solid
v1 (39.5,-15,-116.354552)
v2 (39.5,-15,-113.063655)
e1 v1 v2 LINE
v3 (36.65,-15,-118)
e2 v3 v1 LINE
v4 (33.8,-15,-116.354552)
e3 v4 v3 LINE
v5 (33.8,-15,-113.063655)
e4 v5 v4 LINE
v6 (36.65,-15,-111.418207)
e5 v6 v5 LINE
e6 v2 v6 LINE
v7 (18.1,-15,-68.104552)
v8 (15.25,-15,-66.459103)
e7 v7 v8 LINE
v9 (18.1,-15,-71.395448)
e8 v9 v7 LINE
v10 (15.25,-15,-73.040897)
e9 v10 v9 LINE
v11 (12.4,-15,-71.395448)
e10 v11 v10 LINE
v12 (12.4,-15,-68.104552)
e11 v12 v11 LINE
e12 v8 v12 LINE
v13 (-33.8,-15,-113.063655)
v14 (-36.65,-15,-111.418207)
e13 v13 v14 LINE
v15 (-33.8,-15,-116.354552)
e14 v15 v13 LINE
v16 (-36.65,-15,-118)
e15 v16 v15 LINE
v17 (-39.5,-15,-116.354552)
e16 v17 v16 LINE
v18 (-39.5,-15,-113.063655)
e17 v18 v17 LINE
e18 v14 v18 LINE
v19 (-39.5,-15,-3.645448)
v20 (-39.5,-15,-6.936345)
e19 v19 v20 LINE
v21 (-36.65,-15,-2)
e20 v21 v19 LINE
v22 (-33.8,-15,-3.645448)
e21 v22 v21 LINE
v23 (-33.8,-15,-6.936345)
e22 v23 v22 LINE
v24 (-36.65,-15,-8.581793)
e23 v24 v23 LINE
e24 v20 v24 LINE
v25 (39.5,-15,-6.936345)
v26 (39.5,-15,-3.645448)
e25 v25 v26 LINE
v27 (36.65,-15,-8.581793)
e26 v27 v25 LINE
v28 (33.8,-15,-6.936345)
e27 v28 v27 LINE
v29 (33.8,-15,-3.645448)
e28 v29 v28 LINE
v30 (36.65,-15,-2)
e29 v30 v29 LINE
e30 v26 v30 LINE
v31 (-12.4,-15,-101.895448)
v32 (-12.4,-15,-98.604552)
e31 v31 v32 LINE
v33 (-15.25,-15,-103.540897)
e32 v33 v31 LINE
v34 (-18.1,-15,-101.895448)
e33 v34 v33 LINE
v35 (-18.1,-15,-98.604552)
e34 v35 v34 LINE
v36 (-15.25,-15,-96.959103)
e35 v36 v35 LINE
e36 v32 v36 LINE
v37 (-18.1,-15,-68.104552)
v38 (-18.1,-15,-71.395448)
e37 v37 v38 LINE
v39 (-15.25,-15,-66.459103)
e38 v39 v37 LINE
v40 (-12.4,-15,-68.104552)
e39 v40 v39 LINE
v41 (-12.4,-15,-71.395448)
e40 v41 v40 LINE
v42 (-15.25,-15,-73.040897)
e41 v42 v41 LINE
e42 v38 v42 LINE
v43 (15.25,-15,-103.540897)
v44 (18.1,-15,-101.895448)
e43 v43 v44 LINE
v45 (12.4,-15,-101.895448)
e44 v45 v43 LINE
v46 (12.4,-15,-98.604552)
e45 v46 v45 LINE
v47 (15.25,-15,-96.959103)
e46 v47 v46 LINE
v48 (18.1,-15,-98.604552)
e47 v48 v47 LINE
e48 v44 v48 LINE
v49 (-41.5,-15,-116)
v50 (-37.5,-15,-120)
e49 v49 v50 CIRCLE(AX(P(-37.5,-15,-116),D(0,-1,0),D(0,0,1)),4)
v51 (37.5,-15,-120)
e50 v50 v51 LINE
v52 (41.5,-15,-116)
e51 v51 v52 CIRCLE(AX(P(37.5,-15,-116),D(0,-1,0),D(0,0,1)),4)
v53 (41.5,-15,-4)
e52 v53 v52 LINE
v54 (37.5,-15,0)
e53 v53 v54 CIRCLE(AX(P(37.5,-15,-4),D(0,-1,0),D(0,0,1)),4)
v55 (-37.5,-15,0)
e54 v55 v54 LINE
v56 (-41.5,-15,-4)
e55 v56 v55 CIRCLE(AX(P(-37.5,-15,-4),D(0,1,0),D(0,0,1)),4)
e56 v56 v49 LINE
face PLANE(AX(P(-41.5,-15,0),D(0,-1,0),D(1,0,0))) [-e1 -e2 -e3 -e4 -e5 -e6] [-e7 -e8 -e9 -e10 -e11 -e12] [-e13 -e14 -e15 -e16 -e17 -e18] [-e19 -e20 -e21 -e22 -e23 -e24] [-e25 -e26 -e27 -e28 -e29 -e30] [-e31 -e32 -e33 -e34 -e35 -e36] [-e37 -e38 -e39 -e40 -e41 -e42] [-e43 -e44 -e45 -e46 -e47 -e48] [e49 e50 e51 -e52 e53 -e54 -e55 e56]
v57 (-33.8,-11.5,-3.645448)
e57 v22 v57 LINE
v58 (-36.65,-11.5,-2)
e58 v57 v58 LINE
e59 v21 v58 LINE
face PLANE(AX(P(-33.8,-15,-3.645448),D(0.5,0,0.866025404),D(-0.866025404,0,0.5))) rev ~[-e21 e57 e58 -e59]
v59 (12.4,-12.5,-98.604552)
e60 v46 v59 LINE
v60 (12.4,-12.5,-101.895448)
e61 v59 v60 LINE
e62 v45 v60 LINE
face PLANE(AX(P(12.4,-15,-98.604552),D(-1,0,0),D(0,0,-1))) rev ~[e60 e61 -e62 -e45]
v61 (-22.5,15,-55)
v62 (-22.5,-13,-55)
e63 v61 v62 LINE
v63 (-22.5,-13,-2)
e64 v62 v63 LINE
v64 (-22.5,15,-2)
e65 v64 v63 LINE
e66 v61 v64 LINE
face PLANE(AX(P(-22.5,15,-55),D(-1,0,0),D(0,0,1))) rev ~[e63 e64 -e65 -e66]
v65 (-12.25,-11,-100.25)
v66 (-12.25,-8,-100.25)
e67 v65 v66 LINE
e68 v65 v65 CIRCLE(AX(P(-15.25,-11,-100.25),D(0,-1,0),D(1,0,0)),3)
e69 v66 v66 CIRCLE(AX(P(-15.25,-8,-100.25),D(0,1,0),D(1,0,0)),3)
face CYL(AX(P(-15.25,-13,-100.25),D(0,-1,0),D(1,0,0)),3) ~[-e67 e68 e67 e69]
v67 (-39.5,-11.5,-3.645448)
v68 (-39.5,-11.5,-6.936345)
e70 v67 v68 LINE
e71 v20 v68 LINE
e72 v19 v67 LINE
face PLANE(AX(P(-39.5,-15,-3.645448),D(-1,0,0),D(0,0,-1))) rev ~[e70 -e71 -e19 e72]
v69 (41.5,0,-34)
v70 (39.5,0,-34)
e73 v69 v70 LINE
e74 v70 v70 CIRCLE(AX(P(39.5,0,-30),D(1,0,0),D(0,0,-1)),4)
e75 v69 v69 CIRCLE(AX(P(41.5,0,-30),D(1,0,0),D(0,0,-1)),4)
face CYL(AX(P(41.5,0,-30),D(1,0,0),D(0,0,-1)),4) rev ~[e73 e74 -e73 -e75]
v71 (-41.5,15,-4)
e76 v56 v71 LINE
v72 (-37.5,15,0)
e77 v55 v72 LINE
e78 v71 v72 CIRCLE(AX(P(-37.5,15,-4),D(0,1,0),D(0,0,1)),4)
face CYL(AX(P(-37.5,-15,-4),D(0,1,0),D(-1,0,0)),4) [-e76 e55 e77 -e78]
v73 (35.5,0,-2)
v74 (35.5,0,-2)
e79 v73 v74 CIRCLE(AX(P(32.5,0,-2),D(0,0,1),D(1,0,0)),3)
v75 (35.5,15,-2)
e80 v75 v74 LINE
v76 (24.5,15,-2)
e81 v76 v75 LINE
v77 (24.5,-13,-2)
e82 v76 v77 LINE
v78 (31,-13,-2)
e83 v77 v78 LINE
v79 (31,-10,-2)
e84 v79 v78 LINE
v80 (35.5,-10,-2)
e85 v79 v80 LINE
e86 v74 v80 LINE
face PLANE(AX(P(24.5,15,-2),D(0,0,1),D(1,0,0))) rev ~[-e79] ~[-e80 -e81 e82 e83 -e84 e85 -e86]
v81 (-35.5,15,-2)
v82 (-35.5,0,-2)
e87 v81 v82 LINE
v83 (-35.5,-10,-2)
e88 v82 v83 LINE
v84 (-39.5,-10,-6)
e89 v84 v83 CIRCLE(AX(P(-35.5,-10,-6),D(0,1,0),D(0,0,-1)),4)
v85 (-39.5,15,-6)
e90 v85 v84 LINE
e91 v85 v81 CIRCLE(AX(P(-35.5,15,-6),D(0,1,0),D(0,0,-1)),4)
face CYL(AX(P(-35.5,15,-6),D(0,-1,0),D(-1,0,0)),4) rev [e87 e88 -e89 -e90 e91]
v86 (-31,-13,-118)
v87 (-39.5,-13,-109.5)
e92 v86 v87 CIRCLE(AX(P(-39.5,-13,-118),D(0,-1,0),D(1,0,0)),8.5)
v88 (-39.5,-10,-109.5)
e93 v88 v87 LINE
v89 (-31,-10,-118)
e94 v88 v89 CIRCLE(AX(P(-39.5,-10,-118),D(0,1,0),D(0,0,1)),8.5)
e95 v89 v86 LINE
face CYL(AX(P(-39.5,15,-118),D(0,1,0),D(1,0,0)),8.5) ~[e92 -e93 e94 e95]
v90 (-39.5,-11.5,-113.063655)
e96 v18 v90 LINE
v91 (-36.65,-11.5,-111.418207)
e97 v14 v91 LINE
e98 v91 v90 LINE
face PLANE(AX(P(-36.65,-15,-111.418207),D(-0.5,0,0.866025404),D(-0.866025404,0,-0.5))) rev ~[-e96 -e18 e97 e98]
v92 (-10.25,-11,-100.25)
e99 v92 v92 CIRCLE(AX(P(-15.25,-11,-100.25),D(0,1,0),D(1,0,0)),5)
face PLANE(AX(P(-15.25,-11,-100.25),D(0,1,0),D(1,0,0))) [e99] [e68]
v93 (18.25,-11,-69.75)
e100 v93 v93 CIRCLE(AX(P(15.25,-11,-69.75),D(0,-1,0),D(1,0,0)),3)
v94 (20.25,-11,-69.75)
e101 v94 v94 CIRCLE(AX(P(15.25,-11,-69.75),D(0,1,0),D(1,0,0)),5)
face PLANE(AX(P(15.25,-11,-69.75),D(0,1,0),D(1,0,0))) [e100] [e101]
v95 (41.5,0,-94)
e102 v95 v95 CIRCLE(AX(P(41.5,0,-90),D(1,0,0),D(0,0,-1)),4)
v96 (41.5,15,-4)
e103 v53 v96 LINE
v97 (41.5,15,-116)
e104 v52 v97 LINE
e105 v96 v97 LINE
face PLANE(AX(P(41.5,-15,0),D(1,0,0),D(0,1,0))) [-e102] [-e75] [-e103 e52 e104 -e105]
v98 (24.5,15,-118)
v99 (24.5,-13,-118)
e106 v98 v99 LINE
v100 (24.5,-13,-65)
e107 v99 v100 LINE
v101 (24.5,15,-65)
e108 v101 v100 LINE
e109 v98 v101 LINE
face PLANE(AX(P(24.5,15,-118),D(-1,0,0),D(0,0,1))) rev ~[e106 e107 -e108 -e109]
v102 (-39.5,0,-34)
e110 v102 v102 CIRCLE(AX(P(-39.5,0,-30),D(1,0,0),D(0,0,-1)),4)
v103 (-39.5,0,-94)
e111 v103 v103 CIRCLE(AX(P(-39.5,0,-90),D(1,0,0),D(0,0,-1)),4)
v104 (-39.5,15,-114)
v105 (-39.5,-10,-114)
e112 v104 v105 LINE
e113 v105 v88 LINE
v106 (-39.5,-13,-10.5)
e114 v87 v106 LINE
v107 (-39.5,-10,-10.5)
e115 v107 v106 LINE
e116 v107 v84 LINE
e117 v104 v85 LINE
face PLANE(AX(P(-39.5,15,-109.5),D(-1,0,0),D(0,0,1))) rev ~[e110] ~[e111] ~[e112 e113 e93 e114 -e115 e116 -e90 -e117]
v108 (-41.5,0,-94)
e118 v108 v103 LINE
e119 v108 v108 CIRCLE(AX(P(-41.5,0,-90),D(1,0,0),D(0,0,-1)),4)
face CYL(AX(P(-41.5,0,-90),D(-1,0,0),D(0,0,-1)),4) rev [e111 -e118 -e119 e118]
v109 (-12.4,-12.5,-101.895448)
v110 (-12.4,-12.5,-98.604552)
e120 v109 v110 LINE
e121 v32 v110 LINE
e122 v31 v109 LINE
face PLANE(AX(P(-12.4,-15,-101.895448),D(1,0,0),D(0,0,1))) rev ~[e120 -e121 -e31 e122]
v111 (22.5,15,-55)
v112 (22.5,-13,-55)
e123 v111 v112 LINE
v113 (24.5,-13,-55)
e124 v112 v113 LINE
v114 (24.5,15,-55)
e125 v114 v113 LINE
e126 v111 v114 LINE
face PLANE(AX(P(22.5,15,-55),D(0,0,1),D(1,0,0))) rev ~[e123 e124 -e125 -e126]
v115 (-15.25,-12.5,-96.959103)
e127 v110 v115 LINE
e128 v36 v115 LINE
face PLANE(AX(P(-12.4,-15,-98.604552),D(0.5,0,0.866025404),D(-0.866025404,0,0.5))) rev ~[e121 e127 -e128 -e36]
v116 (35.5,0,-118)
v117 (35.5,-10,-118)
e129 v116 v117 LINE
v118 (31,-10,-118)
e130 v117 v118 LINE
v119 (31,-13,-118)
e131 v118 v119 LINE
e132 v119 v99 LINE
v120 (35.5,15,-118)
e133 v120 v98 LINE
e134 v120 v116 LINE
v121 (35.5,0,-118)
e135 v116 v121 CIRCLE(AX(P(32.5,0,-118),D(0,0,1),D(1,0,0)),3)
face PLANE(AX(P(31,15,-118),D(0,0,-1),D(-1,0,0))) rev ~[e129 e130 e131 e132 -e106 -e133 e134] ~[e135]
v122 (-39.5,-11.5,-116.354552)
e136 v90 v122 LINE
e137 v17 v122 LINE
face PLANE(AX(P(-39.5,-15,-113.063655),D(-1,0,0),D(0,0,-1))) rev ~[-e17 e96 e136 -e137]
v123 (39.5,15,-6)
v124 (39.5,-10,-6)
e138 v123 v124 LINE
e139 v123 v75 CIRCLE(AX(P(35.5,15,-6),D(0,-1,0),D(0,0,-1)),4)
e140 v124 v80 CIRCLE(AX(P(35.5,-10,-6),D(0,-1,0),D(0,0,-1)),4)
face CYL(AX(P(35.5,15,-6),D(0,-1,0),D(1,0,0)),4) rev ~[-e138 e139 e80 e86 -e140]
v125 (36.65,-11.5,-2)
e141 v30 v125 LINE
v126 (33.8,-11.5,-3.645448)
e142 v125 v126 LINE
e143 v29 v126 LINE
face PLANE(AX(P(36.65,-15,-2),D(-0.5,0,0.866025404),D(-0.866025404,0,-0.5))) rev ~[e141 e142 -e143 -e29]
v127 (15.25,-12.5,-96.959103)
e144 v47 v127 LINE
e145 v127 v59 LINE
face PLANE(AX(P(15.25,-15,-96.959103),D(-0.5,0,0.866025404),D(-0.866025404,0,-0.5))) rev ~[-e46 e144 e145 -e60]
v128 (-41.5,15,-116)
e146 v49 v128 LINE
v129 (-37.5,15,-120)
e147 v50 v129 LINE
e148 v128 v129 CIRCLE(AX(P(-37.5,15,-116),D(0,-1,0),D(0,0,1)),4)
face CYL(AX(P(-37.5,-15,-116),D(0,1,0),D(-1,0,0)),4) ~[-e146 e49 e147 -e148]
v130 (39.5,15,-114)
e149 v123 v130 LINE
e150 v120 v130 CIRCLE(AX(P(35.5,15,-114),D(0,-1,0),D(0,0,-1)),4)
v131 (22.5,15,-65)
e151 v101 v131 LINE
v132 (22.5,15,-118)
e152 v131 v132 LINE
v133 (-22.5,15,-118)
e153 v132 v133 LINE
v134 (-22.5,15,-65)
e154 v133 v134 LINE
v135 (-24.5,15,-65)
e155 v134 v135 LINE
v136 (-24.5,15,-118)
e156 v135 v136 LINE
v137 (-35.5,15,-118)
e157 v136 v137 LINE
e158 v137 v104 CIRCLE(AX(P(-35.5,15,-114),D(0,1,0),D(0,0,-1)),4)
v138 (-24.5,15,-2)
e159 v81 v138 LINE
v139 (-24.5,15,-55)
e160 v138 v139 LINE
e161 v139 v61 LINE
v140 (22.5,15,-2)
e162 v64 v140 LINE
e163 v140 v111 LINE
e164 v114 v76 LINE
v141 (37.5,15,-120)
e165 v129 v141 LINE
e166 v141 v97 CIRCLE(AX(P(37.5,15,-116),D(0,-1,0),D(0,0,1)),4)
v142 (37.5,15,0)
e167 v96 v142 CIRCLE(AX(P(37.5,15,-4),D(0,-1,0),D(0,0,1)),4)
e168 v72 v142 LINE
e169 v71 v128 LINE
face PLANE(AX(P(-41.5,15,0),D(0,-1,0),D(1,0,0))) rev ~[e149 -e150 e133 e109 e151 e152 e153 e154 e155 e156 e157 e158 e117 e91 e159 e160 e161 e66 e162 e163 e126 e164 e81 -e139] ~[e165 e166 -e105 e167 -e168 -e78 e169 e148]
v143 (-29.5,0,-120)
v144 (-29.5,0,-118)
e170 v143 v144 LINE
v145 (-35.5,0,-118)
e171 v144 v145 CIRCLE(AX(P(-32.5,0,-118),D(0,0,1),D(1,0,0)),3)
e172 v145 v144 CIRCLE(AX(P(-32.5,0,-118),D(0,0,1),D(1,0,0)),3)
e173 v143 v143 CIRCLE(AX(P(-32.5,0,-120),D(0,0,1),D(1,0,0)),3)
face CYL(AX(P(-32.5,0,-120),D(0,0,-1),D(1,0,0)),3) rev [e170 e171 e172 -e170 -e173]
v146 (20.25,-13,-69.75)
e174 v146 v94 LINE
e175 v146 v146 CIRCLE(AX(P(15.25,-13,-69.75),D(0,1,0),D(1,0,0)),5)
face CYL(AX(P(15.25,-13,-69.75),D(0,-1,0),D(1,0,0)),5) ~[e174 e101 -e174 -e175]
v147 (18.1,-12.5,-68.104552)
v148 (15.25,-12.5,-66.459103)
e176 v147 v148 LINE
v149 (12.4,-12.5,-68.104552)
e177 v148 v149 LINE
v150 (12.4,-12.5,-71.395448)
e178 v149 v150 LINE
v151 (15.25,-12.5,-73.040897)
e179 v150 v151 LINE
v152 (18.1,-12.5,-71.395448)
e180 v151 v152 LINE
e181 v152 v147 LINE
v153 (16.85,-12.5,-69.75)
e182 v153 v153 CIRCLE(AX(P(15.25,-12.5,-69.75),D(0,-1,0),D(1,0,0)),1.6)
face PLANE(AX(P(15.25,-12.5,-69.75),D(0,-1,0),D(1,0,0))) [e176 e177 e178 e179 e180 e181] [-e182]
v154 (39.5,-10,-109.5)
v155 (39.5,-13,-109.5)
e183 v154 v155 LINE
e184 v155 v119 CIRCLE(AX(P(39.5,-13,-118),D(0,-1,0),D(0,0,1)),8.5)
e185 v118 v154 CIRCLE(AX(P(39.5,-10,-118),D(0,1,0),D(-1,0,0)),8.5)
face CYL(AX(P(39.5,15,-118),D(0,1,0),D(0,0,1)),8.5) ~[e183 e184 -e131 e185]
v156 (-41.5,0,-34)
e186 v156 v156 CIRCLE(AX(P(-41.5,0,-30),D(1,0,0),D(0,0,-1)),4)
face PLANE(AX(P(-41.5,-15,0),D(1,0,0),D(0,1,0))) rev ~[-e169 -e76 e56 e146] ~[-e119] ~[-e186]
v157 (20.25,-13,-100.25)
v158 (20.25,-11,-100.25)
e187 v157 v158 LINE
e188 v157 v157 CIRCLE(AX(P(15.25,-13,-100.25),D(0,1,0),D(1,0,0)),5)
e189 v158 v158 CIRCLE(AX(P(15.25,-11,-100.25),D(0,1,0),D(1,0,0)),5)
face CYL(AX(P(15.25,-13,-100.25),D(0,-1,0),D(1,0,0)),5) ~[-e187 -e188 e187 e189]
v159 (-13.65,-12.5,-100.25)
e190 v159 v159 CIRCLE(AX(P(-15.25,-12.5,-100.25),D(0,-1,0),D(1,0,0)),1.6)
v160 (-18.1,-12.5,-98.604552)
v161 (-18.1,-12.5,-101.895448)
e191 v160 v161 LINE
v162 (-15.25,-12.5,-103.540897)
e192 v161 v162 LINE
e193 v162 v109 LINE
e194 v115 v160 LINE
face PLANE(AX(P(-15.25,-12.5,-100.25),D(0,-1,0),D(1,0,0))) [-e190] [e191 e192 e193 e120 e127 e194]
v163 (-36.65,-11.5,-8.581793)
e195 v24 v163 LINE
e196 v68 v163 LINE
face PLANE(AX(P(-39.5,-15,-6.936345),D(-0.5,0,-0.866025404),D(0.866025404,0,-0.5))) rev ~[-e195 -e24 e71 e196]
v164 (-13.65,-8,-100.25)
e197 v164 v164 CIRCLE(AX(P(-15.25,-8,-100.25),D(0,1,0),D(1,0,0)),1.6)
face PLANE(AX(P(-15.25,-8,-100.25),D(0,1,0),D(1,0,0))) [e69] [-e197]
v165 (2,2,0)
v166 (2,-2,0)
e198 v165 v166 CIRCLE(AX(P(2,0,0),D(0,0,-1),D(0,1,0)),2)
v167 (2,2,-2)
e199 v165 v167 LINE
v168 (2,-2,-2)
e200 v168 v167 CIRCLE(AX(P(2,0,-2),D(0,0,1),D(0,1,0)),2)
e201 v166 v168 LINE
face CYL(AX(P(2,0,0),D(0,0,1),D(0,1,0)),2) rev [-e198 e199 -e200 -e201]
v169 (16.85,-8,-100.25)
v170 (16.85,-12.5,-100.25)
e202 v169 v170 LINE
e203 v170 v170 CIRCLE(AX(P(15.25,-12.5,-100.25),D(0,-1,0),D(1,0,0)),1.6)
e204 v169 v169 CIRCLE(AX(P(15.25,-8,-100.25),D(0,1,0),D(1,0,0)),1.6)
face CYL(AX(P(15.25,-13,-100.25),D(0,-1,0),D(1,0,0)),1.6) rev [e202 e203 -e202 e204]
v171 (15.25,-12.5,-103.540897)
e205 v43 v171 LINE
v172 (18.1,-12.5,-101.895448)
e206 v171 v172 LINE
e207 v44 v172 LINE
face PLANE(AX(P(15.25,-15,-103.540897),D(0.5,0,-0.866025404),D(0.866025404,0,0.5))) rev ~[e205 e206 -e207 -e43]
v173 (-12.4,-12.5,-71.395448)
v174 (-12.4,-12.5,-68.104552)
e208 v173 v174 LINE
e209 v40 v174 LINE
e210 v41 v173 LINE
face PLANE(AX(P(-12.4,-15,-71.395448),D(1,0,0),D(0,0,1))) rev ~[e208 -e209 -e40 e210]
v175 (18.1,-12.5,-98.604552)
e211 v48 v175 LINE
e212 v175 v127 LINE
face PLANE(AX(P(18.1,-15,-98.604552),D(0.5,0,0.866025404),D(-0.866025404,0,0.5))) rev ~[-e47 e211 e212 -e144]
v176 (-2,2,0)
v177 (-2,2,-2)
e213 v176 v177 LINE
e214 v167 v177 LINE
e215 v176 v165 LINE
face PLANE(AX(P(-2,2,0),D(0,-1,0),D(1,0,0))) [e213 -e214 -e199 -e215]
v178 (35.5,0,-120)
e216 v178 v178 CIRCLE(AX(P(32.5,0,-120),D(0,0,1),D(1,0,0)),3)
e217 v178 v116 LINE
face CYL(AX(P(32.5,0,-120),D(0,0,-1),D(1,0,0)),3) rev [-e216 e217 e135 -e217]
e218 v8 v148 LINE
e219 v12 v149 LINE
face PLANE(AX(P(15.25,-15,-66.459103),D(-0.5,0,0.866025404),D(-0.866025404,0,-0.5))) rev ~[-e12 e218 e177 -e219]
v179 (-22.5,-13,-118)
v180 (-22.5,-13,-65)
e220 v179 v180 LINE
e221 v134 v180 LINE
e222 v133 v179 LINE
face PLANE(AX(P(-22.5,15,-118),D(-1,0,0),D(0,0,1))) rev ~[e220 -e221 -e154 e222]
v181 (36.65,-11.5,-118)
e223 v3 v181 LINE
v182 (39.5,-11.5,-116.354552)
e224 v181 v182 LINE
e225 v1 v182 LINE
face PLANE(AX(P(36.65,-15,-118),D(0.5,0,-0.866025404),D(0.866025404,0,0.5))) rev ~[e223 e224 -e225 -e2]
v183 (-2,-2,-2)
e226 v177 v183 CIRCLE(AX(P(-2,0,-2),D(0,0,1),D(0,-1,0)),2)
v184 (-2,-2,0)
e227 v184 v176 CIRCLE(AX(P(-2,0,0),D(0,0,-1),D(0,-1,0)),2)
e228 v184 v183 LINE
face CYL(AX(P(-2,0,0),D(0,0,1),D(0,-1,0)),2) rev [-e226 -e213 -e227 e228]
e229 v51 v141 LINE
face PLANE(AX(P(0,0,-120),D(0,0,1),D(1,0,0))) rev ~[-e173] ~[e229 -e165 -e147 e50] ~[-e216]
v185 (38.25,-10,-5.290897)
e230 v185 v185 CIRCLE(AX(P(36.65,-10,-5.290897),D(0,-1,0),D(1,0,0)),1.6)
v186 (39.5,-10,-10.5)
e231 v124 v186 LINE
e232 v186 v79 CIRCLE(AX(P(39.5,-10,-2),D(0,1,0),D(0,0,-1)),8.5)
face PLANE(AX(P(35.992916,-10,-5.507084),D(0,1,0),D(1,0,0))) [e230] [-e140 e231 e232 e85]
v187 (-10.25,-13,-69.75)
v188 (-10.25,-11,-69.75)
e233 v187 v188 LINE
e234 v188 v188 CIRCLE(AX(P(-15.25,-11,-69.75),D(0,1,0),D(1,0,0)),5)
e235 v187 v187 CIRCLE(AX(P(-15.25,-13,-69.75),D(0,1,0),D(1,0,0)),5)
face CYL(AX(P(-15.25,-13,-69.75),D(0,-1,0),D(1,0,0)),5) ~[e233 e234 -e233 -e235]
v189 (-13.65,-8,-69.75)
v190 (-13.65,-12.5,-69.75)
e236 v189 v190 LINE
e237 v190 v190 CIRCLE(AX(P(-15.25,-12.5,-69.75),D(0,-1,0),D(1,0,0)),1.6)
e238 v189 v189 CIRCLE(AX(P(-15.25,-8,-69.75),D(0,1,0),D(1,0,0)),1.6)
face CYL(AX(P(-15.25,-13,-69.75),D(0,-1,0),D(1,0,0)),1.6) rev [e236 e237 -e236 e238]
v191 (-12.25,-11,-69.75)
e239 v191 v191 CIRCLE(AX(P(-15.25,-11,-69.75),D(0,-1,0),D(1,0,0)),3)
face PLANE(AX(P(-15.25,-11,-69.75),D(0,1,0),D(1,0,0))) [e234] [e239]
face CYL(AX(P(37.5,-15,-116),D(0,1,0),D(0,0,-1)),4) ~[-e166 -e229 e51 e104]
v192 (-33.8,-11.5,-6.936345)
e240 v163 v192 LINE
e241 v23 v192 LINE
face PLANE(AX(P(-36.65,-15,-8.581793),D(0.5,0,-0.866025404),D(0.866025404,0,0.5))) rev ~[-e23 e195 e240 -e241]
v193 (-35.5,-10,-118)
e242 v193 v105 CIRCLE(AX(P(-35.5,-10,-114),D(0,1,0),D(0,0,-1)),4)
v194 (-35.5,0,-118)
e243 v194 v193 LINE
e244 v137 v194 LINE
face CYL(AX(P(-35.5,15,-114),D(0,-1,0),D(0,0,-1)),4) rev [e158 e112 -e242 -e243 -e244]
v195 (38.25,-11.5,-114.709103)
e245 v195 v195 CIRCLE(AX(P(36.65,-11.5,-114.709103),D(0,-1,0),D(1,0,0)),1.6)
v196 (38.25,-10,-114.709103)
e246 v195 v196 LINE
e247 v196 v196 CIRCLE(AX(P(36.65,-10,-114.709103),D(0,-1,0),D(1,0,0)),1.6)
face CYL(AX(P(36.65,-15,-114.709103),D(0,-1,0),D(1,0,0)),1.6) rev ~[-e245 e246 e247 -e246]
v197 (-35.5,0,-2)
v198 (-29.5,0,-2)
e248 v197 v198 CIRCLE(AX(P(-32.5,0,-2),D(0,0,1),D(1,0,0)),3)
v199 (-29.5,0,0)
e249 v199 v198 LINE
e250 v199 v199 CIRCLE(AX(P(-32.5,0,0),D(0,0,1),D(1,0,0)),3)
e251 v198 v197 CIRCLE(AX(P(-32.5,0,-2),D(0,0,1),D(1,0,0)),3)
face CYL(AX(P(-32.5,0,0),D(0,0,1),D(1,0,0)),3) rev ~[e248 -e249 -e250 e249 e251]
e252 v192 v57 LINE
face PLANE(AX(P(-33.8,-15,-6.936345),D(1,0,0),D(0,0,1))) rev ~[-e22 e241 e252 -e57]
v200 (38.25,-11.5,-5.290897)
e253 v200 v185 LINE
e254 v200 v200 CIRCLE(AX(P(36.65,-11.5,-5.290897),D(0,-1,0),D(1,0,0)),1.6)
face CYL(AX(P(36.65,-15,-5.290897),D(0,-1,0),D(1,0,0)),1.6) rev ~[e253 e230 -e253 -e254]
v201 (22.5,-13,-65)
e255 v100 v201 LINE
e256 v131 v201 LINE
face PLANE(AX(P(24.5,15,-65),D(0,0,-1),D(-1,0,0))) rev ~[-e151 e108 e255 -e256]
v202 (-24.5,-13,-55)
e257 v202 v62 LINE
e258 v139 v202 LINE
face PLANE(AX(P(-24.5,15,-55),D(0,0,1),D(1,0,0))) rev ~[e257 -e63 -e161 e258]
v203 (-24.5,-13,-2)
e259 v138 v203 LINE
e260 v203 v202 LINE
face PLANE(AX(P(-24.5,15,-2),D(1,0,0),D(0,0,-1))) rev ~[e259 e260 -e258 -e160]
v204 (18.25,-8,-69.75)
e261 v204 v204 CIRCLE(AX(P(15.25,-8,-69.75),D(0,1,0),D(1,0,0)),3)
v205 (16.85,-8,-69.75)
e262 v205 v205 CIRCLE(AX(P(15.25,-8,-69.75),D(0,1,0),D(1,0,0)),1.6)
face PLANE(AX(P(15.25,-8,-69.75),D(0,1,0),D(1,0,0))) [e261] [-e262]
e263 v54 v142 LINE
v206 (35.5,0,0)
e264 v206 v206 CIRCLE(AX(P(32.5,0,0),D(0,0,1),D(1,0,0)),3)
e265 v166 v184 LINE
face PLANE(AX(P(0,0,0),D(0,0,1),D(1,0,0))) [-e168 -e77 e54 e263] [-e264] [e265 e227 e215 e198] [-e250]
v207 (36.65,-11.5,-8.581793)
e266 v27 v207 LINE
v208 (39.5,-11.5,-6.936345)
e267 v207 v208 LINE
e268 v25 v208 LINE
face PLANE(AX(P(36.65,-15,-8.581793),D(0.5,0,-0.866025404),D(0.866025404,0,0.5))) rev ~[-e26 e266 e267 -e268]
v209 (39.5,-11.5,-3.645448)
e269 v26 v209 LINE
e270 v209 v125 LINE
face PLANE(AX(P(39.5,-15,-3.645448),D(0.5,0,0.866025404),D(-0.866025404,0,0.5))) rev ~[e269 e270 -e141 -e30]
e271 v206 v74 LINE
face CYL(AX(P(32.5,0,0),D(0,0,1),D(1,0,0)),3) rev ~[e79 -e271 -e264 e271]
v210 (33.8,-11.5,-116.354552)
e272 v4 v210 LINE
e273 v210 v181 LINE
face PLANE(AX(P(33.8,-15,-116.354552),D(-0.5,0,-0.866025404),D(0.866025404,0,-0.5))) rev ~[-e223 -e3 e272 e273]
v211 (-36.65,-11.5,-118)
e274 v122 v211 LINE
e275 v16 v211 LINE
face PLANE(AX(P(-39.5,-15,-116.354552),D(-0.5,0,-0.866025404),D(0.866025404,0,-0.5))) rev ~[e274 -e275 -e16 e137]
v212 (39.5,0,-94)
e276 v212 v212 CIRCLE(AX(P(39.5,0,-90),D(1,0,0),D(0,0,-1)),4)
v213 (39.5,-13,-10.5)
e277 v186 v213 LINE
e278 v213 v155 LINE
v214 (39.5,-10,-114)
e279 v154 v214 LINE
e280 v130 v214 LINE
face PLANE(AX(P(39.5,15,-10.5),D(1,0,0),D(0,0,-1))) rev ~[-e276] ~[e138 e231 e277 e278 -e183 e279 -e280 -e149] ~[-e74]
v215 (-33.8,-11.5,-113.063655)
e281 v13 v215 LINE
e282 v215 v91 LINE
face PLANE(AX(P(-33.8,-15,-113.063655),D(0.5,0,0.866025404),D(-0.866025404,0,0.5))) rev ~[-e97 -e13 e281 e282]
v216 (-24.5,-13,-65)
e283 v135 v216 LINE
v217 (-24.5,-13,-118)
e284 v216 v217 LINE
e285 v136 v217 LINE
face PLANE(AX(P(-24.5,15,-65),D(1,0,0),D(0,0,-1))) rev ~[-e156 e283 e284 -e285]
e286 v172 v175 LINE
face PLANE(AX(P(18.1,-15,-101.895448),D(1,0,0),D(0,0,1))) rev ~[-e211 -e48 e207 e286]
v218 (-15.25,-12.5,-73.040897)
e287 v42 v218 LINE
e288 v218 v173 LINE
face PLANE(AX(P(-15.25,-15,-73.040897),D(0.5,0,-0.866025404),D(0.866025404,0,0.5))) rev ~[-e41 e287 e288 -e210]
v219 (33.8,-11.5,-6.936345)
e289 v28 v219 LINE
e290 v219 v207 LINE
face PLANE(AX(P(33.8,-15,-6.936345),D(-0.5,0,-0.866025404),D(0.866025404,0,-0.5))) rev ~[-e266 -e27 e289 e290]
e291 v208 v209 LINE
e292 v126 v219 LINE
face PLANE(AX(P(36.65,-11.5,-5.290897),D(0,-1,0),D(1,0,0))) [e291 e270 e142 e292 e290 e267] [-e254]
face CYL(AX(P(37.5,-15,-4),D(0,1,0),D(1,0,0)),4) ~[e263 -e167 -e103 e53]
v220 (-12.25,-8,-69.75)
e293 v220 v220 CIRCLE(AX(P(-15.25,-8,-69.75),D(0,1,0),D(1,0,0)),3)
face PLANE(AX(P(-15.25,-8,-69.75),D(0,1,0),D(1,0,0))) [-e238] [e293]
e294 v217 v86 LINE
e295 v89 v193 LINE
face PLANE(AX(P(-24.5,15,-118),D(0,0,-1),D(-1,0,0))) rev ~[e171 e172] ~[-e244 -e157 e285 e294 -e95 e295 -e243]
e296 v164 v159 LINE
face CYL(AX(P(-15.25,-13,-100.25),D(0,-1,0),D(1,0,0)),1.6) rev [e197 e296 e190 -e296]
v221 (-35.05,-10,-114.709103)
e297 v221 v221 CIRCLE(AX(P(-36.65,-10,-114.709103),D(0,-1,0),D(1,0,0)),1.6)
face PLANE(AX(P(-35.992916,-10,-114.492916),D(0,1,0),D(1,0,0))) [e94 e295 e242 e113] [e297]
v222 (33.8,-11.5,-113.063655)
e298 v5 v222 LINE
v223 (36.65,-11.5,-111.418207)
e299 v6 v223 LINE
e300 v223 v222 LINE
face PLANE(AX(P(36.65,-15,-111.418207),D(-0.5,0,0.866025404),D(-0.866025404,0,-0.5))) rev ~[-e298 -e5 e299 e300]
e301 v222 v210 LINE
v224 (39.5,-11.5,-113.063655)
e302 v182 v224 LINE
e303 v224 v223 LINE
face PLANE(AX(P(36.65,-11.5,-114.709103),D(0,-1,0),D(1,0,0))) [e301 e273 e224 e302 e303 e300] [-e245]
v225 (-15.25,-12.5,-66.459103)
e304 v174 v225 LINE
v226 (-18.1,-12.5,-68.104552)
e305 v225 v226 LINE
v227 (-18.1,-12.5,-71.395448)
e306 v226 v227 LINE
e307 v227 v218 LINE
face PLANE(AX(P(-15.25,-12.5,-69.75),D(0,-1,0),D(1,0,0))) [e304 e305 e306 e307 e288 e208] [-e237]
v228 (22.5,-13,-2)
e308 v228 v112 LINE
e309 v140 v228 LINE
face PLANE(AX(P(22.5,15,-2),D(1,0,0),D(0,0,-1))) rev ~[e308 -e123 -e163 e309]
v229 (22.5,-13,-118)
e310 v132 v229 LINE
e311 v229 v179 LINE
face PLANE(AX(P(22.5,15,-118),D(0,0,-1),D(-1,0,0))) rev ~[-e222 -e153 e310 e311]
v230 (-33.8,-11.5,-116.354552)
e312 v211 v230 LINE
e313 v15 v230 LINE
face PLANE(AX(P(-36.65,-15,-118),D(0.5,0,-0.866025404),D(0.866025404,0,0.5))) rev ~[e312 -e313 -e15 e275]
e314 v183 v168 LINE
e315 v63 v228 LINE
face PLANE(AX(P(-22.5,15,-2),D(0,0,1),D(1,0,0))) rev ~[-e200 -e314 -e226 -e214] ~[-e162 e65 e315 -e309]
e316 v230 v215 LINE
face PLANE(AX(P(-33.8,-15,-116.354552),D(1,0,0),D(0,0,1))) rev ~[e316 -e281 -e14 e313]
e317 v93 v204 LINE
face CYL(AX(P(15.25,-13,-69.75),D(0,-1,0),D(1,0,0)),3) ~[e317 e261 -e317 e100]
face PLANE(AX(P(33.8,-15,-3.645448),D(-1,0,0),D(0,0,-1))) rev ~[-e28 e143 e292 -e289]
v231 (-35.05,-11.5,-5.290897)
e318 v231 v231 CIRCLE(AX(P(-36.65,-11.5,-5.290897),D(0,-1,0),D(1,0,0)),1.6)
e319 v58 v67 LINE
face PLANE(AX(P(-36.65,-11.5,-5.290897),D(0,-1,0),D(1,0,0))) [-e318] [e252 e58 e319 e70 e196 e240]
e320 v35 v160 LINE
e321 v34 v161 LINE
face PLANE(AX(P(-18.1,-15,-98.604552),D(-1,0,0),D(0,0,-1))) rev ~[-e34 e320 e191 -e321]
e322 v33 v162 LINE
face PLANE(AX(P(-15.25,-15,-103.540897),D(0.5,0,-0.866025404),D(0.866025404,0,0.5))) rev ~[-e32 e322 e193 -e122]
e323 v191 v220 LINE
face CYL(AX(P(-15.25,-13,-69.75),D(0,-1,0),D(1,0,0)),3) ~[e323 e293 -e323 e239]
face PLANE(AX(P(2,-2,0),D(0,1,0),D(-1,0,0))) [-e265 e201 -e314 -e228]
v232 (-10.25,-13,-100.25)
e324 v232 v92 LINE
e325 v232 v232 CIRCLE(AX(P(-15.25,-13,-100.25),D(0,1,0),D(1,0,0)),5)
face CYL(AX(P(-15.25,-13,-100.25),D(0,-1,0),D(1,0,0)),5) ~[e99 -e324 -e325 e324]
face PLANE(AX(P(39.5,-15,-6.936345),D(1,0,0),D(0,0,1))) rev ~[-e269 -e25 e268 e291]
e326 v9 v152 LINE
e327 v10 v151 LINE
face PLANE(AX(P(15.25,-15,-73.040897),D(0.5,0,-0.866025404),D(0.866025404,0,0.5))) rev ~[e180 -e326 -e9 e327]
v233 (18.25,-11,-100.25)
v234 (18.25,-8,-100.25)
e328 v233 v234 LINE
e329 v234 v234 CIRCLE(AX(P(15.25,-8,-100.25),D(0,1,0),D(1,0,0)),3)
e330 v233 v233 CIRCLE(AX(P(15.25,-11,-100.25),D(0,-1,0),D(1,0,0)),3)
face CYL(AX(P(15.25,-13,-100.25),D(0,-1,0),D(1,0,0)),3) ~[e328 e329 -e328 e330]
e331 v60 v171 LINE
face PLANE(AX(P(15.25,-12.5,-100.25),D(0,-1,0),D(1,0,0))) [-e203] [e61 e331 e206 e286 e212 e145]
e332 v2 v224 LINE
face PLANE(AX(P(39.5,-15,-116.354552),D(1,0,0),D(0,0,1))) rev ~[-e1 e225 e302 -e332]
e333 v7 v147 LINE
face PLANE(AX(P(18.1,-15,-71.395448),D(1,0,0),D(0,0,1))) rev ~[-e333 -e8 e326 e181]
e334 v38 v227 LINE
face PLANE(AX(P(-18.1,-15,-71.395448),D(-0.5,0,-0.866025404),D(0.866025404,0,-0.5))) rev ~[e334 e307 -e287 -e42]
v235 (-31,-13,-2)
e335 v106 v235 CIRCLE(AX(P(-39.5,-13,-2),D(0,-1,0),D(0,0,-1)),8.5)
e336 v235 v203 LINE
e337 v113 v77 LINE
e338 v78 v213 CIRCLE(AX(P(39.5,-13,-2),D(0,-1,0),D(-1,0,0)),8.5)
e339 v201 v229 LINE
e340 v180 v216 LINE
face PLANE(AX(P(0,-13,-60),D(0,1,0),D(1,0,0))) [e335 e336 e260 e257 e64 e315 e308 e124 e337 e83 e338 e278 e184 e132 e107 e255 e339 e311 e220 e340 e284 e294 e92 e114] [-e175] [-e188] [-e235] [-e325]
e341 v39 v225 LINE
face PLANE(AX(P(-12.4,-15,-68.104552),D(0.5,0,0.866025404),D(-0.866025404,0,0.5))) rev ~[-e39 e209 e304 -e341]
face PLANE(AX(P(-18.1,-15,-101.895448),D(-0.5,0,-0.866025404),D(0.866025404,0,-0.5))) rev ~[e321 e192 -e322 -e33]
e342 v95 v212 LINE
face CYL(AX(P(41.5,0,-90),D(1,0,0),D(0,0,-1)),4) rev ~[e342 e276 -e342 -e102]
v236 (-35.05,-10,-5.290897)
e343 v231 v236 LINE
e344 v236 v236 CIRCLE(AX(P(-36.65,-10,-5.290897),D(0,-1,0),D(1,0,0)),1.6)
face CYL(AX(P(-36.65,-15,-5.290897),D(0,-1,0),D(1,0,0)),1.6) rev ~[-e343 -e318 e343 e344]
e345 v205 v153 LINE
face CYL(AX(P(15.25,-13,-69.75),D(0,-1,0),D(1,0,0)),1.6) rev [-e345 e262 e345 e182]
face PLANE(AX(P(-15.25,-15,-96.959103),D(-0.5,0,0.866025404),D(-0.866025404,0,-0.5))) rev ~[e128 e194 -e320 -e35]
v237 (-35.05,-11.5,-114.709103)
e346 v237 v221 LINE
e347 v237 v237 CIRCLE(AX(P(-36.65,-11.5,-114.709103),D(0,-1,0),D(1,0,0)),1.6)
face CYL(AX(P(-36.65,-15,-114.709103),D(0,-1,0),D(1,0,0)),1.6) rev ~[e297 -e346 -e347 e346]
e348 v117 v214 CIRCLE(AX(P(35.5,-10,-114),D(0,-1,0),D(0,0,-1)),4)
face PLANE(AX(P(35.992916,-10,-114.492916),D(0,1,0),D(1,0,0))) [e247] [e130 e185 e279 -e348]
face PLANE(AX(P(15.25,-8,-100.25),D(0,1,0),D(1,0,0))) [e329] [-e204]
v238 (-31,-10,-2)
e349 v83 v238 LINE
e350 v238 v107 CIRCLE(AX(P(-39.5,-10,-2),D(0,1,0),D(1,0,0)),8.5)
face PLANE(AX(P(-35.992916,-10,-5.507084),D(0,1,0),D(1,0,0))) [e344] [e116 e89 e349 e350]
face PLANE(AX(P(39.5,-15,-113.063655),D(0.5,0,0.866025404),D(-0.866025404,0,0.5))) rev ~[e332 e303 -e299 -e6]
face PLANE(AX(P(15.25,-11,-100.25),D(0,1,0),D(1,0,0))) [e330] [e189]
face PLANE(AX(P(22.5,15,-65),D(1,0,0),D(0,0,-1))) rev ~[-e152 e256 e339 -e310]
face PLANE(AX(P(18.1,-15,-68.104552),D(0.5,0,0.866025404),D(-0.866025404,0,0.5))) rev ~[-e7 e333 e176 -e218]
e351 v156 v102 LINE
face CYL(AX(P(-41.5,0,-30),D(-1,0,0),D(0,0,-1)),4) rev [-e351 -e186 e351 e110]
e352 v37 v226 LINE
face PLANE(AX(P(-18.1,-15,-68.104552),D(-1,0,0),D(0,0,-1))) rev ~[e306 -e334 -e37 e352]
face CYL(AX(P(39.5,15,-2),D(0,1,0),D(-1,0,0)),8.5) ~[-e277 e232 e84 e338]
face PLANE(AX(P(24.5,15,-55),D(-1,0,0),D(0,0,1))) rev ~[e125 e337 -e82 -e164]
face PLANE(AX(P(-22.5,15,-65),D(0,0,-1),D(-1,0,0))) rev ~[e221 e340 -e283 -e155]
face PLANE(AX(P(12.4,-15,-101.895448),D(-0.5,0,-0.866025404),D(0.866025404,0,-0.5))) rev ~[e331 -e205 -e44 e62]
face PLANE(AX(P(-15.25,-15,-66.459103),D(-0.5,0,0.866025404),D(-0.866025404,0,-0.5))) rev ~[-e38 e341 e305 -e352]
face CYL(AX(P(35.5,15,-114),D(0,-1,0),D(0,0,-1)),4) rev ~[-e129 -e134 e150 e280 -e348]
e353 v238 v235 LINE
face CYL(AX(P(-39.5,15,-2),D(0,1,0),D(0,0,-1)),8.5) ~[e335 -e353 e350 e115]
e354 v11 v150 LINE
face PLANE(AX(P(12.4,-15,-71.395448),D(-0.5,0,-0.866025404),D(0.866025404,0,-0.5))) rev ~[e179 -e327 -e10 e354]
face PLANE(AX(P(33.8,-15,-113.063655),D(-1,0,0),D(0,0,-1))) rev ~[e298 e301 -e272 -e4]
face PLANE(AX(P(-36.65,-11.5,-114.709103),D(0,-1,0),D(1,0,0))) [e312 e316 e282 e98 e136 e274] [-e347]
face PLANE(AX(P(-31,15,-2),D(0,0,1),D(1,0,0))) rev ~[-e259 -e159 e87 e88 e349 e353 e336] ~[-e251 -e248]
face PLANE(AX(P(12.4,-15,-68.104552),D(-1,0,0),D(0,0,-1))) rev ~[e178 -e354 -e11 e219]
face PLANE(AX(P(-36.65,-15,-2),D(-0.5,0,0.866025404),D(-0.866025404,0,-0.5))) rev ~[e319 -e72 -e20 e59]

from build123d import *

# Parameters (mm, degrees)
SKETCH2_W                            = 83
SKETCH2_H                            = 30
BOSS_EXTRUDE1_DEPTH                  = 120
CUT_EXTRUDE1_DEPTH                   = 28
CUT_EXTRUDE4_REACH                   = 129.856
SKETCH10_R                           = 3
SKETCH10_R_2                         = 1.6
BOSS_EXTRUDE2_DEPTH                  = 5
SKETCH13_R                           = 5
BOSS_EXTRUDE_CC3D_SUPPORT_DEPTH      = 2
CUT_EXTRUDE_CC3D_ROUND_DEPTH         = 10
CUT_EXTRUDE_CC3D_ROUND_DEPTH_BACK    = 5
SKETCH10_3_R                         = 1.6
SKETCH14_R                           = 1.6
CUT_EXTRUDE_BOTTOM_HEX_CORNERS_DEPTH = 3.5
CUT_EXTRUDE_BOTTOM_HEX_CC3D_START    = -2.5
SKETCH14_5_R                         = 1.6
CUT_EXTRUDE_BOTTOM_HEX_CC3D_DEPTH    = 2.5
SKETCH14_4_R                         = 1.6
CUT_EXTRUDE_BOTTOM_ROUND_DEPTH       = 131.469345059
CUT_EXTRUDE12_DEPTH                  = 25
CUT_HOLES_RIGHT_REACH                = 148.677
SKETCH8_R                            = 4
CUT_HOLES_LEFT_REACH                 = 231.677
CUT_HOLES_LEFT_START                 = -83
SKETCH8_4_R                          = 4
FILLET1_4MM_R                        = 4
CUT_EXTRUDE14_REACH                  = 129.856
SKETCH15_R                           = 3
CUT_EXTRUDE15_REACH                  = 249.856
CUT_EXTRUDE15_START                  = -120
SKETCH15_2_R                         = 3


with BuildPart() as part:
    # Sketch2 → Boss-Extrude1 (new body)
    with BuildSketch(Plane.XY):
        Rectangle(SKETCH2_W, SKETCH2_H)
    extrude(amount=-BOSS_EXTRUDE1_DEPTH)

    # Sketch4 → Cut-Extrude1 (cut)
    with BuildSketch(Plane(origin=(0, 15, 0), x_dir=(1, 0, 0), z_dir=(0, 1, 0))):
        with BuildLine():
            Line((-24.5, 118), (-31, 118))
            ThreePointArc((-31, 118), (-33.48959236, 111.98959236), (-39.5, 109.5))
            Line((-39.5, 109.5), (-39.5, 10.5))
            ThreePointArc((-39.5, 10.5), (-33.48959236, 8.01040764), (-31, 2))
            Line((-31, 2), (-24.5, 2))
            Line((-24.5, 2), (-24.5, 55))
            Line((-24.5, 55), (-22.5, 55))
            Line((-22.5, 55), (-22.5, 2))
            Line((-22.5, 2), (22.5, 2))
            Line((22.5, 2), (22.5, 55))
            Line((22.5, 55), (24.5, 55))
            Line((24.5, 55), (24.5, 2))
            Line((24.5, 2), (31, 2))
            ThreePointArc((31, 2), (33.48959236, 8.01040764), (39.5, 10.5))
            Line((39.5, 10.5), (39.5, 109.5))
            ThreePointArc((39.5, 109.5), (33.48959236, 111.98959236), (31, 118))
            Line((31, 118), (24.5, 118))
            Line((24.5, 118), (24.5, 65))
            Line((24.5, 65), (22.5, 65))
            Line((22.5, 65), (22.5, 118))
            Line((22.5, 118), (-22.5, 118))
            Line((-22.5, 118), (-22.5, 65))
            Line((-22.5, 65), (-24.5, 65))
            Line((-24.5, 65), (-24.5, 118))
        make_face()
    extrude(amount=-CUT_EXTRUDE1_DEPTH, mode=Mode.SUBTRACT)

    # Sketch6 → Cut-Extrude4 (cut, up to next)
    with BuildSketch(Plane.XY, mode=Mode.PRIVATE) as cut_extrude4_sk1:
        with BuildLine():
            Line((-2, 2), (2, 2))
            ThreePointArc((2, 2), (4, 0), (2, -2))
            Line((2, -2), (-2, -2))
            ThreePointArc((-2, -2), (-4, 0), (-2, 2))
        make_face()
    cut_extrude4_tool1 = extrude(cut_extrude4_sk1.sketch, amount=-CUT_EXTRUDE4_REACH, mode=Mode.PRIVATE) & part.part
    add(cut_extrude4_tool1.solids().sort_by_distance((0, 0, 0))[0], mode=Mode.SUBTRACT)

    # Sketch10 → Boss-Extrude2 (add)
    # profile 1 of 4: a face of its own
    with BuildSketch(Plane(origin=(0, -13, 0), x_dir=(1, 0, 0), z_dir=(0, 1, 0))):
        with Locations((-15.25, 100.25)):
            Circle(SKETCH10_R)
        with Locations((-15.25, 100.25)):
            Circle(SKETCH10_R_2, mode=Mode.SUBTRACT)
    # profile 2 of 4: a face of its own
    with BuildSketch(Plane(origin=(0, -13, 0), x_dir=(1, 0, 0), z_dir=(0, 1, 0))):
        with Locations((15.25, 100.25)):
            Circle(SKETCH10_R)
        with Locations((15.25, 100.25)):
            Circle(SKETCH10_R_2, mode=Mode.SUBTRACT)
    # profile 3 of 4: a face of its own
    with BuildSketch(Plane(origin=(0, -13, 0), x_dir=(1, 0, 0), z_dir=(0, 1, 0))):
        with Locations((15.25, 69.75)):
            Circle(SKETCH10_R)
        with Locations((15.25, 69.75)):
            Circle(SKETCH10_R_2, mode=Mode.SUBTRACT)
    # profile 4 of 4: a face of its own
    with BuildSketch(Plane(origin=(0, -13, 0), x_dir=(1, 0, 0), z_dir=(0, 1, 0))):
        with Locations((-15.25, 69.75)):
            Circle(SKETCH10_R)
        with Locations((-15.25, 69.75)):
            Circle(SKETCH10_R_2, mode=Mode.SUBTRACT)
    extrude(amount=BOSS_EXTRUDE2_DEPTH)

    # Sketch13 → Boss-Extrude-cc3d-support (add)
    with BuildSketch(Plane(origin=(0, -13, 0), x_dir=(1, 0, 0), z_dir=(0, 1, 0))):
        with Locations((-15.25, 100.25)):
            Circle(SKETCH13_R)
        with Locations((15.25, 100.25)):
            Circle(SKETCH13_R)
        with Locations((-15.25, 69.75)):
            Circle(SKETCH13_R)
        with Locations((15.25, 69.75)):
            Circle(SKETCH13_R)
    extrude(amount=BOSS_EXTRUDE_CC3D_SUPPORT_DEPTH)

    # Sketch10<3> → Cut-Extrude-cc3d-round (cut, two sides: drawn at the far end of the back side and taken through both)
    with BuildSketch(Plane(origin=(0, -13, 0), x_dir=(1, 0, 0), z_dir=(0, 1, 0)).offset(-CUT_EXTRUDE_CC3D_ROUND_DEPTH_BACK)):
        with Locations((-15.25, 100.25)):
            Circle(SKETCH10_3_R)
        with Locations((15.25, 100.25)):
            Circle(SKETCH10_3_R)
        with Locations((-15.25, 69.75)):
            Circle(SKETCH10_3_R)
        with Locations((15.25, 69.75)):
            Circle(SKETCH10_3_R)
    extrude(amount=CUT_EXTRUDE_CC3D_ROUND_DEPTH + CUT_EXTRUDE_CC3D_ROUND_DEPTH_BACK, mode=Mode.SUBTRACT)

    # Sketch14 → Cut-Extrude-bottom-hex-corners (cut)
    # profile 1 of 4: a face of its own
    with BuildSketch(Plane.XZ.offset(15)):
        Polygon((-39.5, -6.936344802), (-36.65, -8.581793069), (-33.8, -6.936344802), (-33.8, -3.645448267), (-36.65, -2), (-39.5, -3.645448267), align=None)
        with Locations((-36.65, -5.290896534)):
            Circle(SKETCH14_R, mode=Mode.SUBTRACT)
    # profile 2 of 4: a face of its own
    with BuildSketch(Plane.XZ.offset(15)):
        Polygon((33.8, -116.354551733), (36.65, -118), (39.5, -116.354551733), (39.5, -113.063655198), (36.65, -111.418206931), (33.8, -113.063655198), align=None)
        with Locations((36.65, -114.709103466)):
            Circle(SKETCH14_R, mode=Mode.SUBTRACT)
    # profile 3 of 4: a face of its own
    with BuildSketch(Plane.XZ.offset(15)):
        Polygon((33.8, -6.936344802), (36.65, -8.581793069), (39.5, -6.936344802), (39.5, -3.645448267), (36.65, -2), (33.8, -3.645448267), align=None)
        with Locations((36.65, -5.290896534)):
            Circle(SKETCH14_R, mode=Mode.SUBTRACT)
    # profile 4 of 4: a face of its own
    with BuildSketch(Plane.XZ.offset(15)):
        Polygon((-39.5, -116.354551733), (-36.65, -118), (-33.8, -116.354551733), (-33.8, -113.063655198), (-36.65, -111.418206931), (-39.5, -113.063655198), align=None)
        with Locations((-36.65, -114.709103466)):
            Circle(SKETCH14_R, mode=Mode.SUBTRACT)
    extrude(amount=-CUT_EXTRUDE_BOTTOM_HEX_CORNERS_DEPTH, mode=Mode.SUBTRACT)

    # Sketch14<5> → Cut-Extrude-bottom-hex-cc3d (cut)
    # profile 1 of 4: a face of its own
    with BuildSketch(Plane.XZ.offset(15).offset(CUT_EXTRUDE_BOTTOM_HEX_CC3D_START)):
        Polygon((-18.1, -71.395448267), (-15.25, -73.040896534), (-12.4, -71.395448267), (-12.4, -68.104551733), (-15.25, -66.459103466), (-18.1, -68.104551733), align=None)
        with Locations((-15.25, -69.75)):
            Circle(SKETCH14_5_R, mode=Mode.SUBTRACT)
    # profile 2 of 4: a face of its own
    with BuildSketch(Plane.XZ.offset(15).offset(CUT_EXTRUDE_BOTTOM_HEX_CC3D_START)):
        Polygon((12.4, -71.395448267), (15.25, -73.040896534), (18.1, -71.395448267), (18.1, -68.104551733), (15.25, -66.459103466), (12.4, -68.104551733), align=None)
        with Locations((15.25, -69.75)):
            Circle(SKETCH14_5_R, mode=Mode.SUBTRACT)
    # profile 3 of 4: a face of its own
    with BuildSketch(Plane.XZ.offset(15).offset(CUT_EXTRUDE_BOTTOM_HEX_CC3D_START)):
        Polygon((12.4, -101.895448267), (15.25, -103.540896534), (18.1, -101.895448267), (18.1, -98.604551733), (15.25, -96.959103466), (12.4, -98.604551733), align=None)
        with Locations((15.25, -100.25)):
            Circle(SKETCH14_5_R, mode=Mode.SUBTRACT)
    # profile 4 of 4: a face of its own
    with BuildSketch(Plane.XZ.offset(15).offset(CUT_EXTRUDE_BOTTOM_HEX_CC3D_START)):
        Polygon((-18.1, -101.895448267), (-15.25, -103.540896534), (-12.4, -101.895448267), (-12.4, -98.604551733), (-15.25, -96.959103466), (-18.1, -98.604551733), align=None)
        with Locations((-15.25, -100.25)):
            Circle(SKETCH14_5_R, mode=Mode.SUBTRACT)
    extrude(amount=CUT_EXTRUDE_BOTTOM_HEX_CC3D_DEPTH, mode=Mode.SUBTRACT)

    # Sketch14<4> → Cut-Extrude-bottom-round (cut, through all)
    with BuildSketch(Plane.XZ.offset(15)):
        with Locations((-36.65, -5.290896534)):
            Circle(SKETCH14_4_R)
        with Locations((36.65, -5.290896534)):
            Circle(SKETCH14_4_R)
        with Locations((36.65, -114.709103466)):
            Circle(SKETCH14_4_R)
        with Locations((-36.65, -114.709103466)):
            Circle(SKETCH14_4_R)
    extrude(amount=-CUT_EXTRUDE_BOTTOM_ROUND_DEPTH, mode=Mode.SUBTRACT)

    # Sketch4<5> → Cut-Extrude12 (cut)
    with BuildSketch(Plane(origin=(0, 15, 0), x_dir=(1, 0, 0), z_dir=(0, 1, 0))):
        with BuildLine():
            Line((-31, 118), (-39.5, 118))
            Line((-39.5, 118), (-39.5, 109.5))
            ThreePointArc((-39.5, 109.5), (-33.48959236, 111.98959236), (-31, 118))
        make_face()
        with BuildLine():
            ThreePointArc((-31, 2), (-33.48959236, 8.01040764), (-39.5, 10.5))
            Line((-39.5, 10.5), (-39.5, 2))
            Line((-39.5, 2), (-31, 2))
        make_face()
        with BuildLine():
            Line((39.5, 118), (31, 118))
            ThreePointArc((31, 118), (33.48959236, 111.98959236), (39.5, 109.5))
            Line((39.5, 109.5), (39.5, 118))
        make_face()
        with BuildLine():
            Line((39.5, 2), (39.5, 10.5))
            ThreePointArc((39.5, 10.5), (33.48959236, 8.01040764), (31, 2))
            Line((31, 2), (39.5, 2))
        make_face()
    extrude(amount=-CUT_EXTRUDE12_DEPTH, mode=Mode.SUBTRACT)

    # Sketch8 → Cut-Holes-Right (cut, up to next)
    with BuildSketch(Plane(origin=(41.5, 0, 0), x_dir=(0, 0, -1), z_dir=(1, 0, 0)), mode=Mode.PRIVATE) as cut_holes_right_sk1:
        with Locations((30, 0)):
            Circle(SKETCH8_R)
    cut_holes_right_tool1 = extrude(cut_holes_right_sk1.sketch, amount=-CUT_HOLES_RIGHT_REACH, mode=Mode.PRIVATE) & part.part
    # Sketch8 → Cut-Holes-Right (cut, up to next)
    with BuildSketch(Plane(origin=(41.5, 0, 0), x_dir=(0, 0, -1), z_dir=(1, 0, 0)), mode=Mode.PRIVATE) as cut_holes_right_sk2:
        with Locations((90, 0)):
            Circle(SKETCH8_R)
    cut_holes_right_tool2 = extrude(cut_holes_right_sk2.sketch, amount=-CUT_HOLES_RIGHT_REACH, mode=Mode.PRIVATE) & part.part
    add(cut_holes_right_tool1.solids().sort_by_distance((41.5, 0, -30))[0], mode=Mode.SUBTRACT)
    add(cut_holes_right_tool2.solids().sort_by_distance((41.5, 0, -90))[0], mode=Mode.SUBTRACT)

    # Sketch8<4> → Cut-Holes-Left (cut, up to next)
    with BuildSketch(Plane(origin=(41.5, 0, 0), x_dir=(0, 0, -1), z_dir=(1, 0, 0)).offset(CUT_HOLES_LEFT_START), mode=Mode.PRIVATE) as cut_holes_left_sk1:
        with Locations((30, 0)):
            Circle(SKETCH8_4_R)
    cut_holes_left_tool1 = extrude(cut_holes_left_sk1.sketch, amount=CUT_HOLES_LEFT_REACH, mode=Mode.PRIVATE) & part.part
    # Sketch8<4> → Cut-Holes-Left (cut, up to next)
    with BuildSketch(Plane(origin=(41.5, 0, 0), x_dir=(0, 0, -1), z_dir=(1, 0, 0)).offset(CUT_HOLES_LEFT_START), mode=Mode.PRIVATE) as cut_holes_left_sk2:
        with Locations((90, 0)):
            Circle(SKETCH8_4_R)
    cut_holes_left_tool2 = extrude(cut_holes_left_sk2.sketch, amount=CUT_HOLES_LEFT_REACH, mode=Mode.PRIVATE) & part.part
    add(cut_holes_left_tool1.solids().sort_by_distance((-41.5, 0, -30))[0], mode=Mode.SUBTRACT)
    add(cut_holes_left_tool2.solids().sort_by_distance((-41.5, 0, -90))[0], mode=Mode.SUBTRACT)

    # Fillet1_4mm
    fillet1_4mm_edges = [part.edges().sort_by_distance(p)[0] for p in [
        (41.5, 0, -120),
        (-39.5, 2.5, -118),
        (39.5, 2.5, -118),
        (39.5, 2.5, -2),
        (-41.5, 0, -120),
        (-39.5, 2.5, -2),
        (41.5, 0, 0),
        (-41.5, 0, 0),
    ]]
    fillet(fillet1_4mm_edges, radius=FILLET1_4MM_R)

    # Sketch15 → Cut-Extrude14 (cut, up to next)
    with BuildSketch(Plane.XY, mode=Mode.PRIVATE) as cut_extrude14_sk1:
        with Locations((-32.5, 0)):
            Circle(SKETCH15_R)
    cut_extrude14_tool1 = extrude(cut_extrude14_sk1.sketch, amount=-CUT_EXTRUDE14_REACH, mode=Mode.PRIVATE) & part.part
    # Sketch15 → Cut-Extrude14 (cut, up to next)
    with BuildSketch(Plane.XY, mode=Mode.PRIVATE) as cut_extrude14_sk2:
        with Locations((32.5, 0)):
            Circle(SKETCH15_R)
    cut_extrude14_tool2 = extrude(cut_extrude14_sk2.sketch, amount=-CUT_EXTRUDE14_REACH, mode=Mode.PRIVATE) & part.part
    add(cut_extrude14_tool1.solids().sort_by_distance((-32.5, 0, 0))[0], mode=Mode.SUBTRACT)
    add(cut_extrude14_tool2.solids().sort_by_distance((32.5, 0, 0))[0], mode=Mode.SUBTRACT)

    # Sketch15<2> → Cut-Extrude15 (cut, up to next)
    with BuildSketch(Plane.XY.offset(CUT_EXTRUDE15_START), mode=Mode.PRIVATE) as cut_extrude15_sk1:
        with Locations((-32.5, 0)):
            Circle(SKETCH15_2_R)
    cut_extrude15_tool1 = extrude(cut_extrude15_sk1.sketch, amount=CUT_EXTRUDE15_REACH, mode=Mode.PRIVATE) & part.part
    # Sketch15<2> → Cut-Extrude15 (cut, up to next)
    with BuildSketch(Plane.XY.offset(CUT_EXTRUDE15_START), mode=Mode.PRIVATE) as cut_extrude15_sk2:
        with Locations((32.5, 0)):
            Circle(SKETCH15_2_R)
    cut_extrude15_tool2 = extrude(cut_extrude15_sk2.sketch, amount=CUT_EXTRUDE15_REACH, mode=Mode.PRIVATE) & part.part
    add(cut_extrude15_tool1.solids().sort_by_distance((-32.5, 0, -120))[0], mode=Mode.SUBTRACT)
    add(cut_extrude15_tool2.solids().sort_by_distance((32.5, 0, -120))[0], mode=Mode.SUBTRACT)


solid = part.part
